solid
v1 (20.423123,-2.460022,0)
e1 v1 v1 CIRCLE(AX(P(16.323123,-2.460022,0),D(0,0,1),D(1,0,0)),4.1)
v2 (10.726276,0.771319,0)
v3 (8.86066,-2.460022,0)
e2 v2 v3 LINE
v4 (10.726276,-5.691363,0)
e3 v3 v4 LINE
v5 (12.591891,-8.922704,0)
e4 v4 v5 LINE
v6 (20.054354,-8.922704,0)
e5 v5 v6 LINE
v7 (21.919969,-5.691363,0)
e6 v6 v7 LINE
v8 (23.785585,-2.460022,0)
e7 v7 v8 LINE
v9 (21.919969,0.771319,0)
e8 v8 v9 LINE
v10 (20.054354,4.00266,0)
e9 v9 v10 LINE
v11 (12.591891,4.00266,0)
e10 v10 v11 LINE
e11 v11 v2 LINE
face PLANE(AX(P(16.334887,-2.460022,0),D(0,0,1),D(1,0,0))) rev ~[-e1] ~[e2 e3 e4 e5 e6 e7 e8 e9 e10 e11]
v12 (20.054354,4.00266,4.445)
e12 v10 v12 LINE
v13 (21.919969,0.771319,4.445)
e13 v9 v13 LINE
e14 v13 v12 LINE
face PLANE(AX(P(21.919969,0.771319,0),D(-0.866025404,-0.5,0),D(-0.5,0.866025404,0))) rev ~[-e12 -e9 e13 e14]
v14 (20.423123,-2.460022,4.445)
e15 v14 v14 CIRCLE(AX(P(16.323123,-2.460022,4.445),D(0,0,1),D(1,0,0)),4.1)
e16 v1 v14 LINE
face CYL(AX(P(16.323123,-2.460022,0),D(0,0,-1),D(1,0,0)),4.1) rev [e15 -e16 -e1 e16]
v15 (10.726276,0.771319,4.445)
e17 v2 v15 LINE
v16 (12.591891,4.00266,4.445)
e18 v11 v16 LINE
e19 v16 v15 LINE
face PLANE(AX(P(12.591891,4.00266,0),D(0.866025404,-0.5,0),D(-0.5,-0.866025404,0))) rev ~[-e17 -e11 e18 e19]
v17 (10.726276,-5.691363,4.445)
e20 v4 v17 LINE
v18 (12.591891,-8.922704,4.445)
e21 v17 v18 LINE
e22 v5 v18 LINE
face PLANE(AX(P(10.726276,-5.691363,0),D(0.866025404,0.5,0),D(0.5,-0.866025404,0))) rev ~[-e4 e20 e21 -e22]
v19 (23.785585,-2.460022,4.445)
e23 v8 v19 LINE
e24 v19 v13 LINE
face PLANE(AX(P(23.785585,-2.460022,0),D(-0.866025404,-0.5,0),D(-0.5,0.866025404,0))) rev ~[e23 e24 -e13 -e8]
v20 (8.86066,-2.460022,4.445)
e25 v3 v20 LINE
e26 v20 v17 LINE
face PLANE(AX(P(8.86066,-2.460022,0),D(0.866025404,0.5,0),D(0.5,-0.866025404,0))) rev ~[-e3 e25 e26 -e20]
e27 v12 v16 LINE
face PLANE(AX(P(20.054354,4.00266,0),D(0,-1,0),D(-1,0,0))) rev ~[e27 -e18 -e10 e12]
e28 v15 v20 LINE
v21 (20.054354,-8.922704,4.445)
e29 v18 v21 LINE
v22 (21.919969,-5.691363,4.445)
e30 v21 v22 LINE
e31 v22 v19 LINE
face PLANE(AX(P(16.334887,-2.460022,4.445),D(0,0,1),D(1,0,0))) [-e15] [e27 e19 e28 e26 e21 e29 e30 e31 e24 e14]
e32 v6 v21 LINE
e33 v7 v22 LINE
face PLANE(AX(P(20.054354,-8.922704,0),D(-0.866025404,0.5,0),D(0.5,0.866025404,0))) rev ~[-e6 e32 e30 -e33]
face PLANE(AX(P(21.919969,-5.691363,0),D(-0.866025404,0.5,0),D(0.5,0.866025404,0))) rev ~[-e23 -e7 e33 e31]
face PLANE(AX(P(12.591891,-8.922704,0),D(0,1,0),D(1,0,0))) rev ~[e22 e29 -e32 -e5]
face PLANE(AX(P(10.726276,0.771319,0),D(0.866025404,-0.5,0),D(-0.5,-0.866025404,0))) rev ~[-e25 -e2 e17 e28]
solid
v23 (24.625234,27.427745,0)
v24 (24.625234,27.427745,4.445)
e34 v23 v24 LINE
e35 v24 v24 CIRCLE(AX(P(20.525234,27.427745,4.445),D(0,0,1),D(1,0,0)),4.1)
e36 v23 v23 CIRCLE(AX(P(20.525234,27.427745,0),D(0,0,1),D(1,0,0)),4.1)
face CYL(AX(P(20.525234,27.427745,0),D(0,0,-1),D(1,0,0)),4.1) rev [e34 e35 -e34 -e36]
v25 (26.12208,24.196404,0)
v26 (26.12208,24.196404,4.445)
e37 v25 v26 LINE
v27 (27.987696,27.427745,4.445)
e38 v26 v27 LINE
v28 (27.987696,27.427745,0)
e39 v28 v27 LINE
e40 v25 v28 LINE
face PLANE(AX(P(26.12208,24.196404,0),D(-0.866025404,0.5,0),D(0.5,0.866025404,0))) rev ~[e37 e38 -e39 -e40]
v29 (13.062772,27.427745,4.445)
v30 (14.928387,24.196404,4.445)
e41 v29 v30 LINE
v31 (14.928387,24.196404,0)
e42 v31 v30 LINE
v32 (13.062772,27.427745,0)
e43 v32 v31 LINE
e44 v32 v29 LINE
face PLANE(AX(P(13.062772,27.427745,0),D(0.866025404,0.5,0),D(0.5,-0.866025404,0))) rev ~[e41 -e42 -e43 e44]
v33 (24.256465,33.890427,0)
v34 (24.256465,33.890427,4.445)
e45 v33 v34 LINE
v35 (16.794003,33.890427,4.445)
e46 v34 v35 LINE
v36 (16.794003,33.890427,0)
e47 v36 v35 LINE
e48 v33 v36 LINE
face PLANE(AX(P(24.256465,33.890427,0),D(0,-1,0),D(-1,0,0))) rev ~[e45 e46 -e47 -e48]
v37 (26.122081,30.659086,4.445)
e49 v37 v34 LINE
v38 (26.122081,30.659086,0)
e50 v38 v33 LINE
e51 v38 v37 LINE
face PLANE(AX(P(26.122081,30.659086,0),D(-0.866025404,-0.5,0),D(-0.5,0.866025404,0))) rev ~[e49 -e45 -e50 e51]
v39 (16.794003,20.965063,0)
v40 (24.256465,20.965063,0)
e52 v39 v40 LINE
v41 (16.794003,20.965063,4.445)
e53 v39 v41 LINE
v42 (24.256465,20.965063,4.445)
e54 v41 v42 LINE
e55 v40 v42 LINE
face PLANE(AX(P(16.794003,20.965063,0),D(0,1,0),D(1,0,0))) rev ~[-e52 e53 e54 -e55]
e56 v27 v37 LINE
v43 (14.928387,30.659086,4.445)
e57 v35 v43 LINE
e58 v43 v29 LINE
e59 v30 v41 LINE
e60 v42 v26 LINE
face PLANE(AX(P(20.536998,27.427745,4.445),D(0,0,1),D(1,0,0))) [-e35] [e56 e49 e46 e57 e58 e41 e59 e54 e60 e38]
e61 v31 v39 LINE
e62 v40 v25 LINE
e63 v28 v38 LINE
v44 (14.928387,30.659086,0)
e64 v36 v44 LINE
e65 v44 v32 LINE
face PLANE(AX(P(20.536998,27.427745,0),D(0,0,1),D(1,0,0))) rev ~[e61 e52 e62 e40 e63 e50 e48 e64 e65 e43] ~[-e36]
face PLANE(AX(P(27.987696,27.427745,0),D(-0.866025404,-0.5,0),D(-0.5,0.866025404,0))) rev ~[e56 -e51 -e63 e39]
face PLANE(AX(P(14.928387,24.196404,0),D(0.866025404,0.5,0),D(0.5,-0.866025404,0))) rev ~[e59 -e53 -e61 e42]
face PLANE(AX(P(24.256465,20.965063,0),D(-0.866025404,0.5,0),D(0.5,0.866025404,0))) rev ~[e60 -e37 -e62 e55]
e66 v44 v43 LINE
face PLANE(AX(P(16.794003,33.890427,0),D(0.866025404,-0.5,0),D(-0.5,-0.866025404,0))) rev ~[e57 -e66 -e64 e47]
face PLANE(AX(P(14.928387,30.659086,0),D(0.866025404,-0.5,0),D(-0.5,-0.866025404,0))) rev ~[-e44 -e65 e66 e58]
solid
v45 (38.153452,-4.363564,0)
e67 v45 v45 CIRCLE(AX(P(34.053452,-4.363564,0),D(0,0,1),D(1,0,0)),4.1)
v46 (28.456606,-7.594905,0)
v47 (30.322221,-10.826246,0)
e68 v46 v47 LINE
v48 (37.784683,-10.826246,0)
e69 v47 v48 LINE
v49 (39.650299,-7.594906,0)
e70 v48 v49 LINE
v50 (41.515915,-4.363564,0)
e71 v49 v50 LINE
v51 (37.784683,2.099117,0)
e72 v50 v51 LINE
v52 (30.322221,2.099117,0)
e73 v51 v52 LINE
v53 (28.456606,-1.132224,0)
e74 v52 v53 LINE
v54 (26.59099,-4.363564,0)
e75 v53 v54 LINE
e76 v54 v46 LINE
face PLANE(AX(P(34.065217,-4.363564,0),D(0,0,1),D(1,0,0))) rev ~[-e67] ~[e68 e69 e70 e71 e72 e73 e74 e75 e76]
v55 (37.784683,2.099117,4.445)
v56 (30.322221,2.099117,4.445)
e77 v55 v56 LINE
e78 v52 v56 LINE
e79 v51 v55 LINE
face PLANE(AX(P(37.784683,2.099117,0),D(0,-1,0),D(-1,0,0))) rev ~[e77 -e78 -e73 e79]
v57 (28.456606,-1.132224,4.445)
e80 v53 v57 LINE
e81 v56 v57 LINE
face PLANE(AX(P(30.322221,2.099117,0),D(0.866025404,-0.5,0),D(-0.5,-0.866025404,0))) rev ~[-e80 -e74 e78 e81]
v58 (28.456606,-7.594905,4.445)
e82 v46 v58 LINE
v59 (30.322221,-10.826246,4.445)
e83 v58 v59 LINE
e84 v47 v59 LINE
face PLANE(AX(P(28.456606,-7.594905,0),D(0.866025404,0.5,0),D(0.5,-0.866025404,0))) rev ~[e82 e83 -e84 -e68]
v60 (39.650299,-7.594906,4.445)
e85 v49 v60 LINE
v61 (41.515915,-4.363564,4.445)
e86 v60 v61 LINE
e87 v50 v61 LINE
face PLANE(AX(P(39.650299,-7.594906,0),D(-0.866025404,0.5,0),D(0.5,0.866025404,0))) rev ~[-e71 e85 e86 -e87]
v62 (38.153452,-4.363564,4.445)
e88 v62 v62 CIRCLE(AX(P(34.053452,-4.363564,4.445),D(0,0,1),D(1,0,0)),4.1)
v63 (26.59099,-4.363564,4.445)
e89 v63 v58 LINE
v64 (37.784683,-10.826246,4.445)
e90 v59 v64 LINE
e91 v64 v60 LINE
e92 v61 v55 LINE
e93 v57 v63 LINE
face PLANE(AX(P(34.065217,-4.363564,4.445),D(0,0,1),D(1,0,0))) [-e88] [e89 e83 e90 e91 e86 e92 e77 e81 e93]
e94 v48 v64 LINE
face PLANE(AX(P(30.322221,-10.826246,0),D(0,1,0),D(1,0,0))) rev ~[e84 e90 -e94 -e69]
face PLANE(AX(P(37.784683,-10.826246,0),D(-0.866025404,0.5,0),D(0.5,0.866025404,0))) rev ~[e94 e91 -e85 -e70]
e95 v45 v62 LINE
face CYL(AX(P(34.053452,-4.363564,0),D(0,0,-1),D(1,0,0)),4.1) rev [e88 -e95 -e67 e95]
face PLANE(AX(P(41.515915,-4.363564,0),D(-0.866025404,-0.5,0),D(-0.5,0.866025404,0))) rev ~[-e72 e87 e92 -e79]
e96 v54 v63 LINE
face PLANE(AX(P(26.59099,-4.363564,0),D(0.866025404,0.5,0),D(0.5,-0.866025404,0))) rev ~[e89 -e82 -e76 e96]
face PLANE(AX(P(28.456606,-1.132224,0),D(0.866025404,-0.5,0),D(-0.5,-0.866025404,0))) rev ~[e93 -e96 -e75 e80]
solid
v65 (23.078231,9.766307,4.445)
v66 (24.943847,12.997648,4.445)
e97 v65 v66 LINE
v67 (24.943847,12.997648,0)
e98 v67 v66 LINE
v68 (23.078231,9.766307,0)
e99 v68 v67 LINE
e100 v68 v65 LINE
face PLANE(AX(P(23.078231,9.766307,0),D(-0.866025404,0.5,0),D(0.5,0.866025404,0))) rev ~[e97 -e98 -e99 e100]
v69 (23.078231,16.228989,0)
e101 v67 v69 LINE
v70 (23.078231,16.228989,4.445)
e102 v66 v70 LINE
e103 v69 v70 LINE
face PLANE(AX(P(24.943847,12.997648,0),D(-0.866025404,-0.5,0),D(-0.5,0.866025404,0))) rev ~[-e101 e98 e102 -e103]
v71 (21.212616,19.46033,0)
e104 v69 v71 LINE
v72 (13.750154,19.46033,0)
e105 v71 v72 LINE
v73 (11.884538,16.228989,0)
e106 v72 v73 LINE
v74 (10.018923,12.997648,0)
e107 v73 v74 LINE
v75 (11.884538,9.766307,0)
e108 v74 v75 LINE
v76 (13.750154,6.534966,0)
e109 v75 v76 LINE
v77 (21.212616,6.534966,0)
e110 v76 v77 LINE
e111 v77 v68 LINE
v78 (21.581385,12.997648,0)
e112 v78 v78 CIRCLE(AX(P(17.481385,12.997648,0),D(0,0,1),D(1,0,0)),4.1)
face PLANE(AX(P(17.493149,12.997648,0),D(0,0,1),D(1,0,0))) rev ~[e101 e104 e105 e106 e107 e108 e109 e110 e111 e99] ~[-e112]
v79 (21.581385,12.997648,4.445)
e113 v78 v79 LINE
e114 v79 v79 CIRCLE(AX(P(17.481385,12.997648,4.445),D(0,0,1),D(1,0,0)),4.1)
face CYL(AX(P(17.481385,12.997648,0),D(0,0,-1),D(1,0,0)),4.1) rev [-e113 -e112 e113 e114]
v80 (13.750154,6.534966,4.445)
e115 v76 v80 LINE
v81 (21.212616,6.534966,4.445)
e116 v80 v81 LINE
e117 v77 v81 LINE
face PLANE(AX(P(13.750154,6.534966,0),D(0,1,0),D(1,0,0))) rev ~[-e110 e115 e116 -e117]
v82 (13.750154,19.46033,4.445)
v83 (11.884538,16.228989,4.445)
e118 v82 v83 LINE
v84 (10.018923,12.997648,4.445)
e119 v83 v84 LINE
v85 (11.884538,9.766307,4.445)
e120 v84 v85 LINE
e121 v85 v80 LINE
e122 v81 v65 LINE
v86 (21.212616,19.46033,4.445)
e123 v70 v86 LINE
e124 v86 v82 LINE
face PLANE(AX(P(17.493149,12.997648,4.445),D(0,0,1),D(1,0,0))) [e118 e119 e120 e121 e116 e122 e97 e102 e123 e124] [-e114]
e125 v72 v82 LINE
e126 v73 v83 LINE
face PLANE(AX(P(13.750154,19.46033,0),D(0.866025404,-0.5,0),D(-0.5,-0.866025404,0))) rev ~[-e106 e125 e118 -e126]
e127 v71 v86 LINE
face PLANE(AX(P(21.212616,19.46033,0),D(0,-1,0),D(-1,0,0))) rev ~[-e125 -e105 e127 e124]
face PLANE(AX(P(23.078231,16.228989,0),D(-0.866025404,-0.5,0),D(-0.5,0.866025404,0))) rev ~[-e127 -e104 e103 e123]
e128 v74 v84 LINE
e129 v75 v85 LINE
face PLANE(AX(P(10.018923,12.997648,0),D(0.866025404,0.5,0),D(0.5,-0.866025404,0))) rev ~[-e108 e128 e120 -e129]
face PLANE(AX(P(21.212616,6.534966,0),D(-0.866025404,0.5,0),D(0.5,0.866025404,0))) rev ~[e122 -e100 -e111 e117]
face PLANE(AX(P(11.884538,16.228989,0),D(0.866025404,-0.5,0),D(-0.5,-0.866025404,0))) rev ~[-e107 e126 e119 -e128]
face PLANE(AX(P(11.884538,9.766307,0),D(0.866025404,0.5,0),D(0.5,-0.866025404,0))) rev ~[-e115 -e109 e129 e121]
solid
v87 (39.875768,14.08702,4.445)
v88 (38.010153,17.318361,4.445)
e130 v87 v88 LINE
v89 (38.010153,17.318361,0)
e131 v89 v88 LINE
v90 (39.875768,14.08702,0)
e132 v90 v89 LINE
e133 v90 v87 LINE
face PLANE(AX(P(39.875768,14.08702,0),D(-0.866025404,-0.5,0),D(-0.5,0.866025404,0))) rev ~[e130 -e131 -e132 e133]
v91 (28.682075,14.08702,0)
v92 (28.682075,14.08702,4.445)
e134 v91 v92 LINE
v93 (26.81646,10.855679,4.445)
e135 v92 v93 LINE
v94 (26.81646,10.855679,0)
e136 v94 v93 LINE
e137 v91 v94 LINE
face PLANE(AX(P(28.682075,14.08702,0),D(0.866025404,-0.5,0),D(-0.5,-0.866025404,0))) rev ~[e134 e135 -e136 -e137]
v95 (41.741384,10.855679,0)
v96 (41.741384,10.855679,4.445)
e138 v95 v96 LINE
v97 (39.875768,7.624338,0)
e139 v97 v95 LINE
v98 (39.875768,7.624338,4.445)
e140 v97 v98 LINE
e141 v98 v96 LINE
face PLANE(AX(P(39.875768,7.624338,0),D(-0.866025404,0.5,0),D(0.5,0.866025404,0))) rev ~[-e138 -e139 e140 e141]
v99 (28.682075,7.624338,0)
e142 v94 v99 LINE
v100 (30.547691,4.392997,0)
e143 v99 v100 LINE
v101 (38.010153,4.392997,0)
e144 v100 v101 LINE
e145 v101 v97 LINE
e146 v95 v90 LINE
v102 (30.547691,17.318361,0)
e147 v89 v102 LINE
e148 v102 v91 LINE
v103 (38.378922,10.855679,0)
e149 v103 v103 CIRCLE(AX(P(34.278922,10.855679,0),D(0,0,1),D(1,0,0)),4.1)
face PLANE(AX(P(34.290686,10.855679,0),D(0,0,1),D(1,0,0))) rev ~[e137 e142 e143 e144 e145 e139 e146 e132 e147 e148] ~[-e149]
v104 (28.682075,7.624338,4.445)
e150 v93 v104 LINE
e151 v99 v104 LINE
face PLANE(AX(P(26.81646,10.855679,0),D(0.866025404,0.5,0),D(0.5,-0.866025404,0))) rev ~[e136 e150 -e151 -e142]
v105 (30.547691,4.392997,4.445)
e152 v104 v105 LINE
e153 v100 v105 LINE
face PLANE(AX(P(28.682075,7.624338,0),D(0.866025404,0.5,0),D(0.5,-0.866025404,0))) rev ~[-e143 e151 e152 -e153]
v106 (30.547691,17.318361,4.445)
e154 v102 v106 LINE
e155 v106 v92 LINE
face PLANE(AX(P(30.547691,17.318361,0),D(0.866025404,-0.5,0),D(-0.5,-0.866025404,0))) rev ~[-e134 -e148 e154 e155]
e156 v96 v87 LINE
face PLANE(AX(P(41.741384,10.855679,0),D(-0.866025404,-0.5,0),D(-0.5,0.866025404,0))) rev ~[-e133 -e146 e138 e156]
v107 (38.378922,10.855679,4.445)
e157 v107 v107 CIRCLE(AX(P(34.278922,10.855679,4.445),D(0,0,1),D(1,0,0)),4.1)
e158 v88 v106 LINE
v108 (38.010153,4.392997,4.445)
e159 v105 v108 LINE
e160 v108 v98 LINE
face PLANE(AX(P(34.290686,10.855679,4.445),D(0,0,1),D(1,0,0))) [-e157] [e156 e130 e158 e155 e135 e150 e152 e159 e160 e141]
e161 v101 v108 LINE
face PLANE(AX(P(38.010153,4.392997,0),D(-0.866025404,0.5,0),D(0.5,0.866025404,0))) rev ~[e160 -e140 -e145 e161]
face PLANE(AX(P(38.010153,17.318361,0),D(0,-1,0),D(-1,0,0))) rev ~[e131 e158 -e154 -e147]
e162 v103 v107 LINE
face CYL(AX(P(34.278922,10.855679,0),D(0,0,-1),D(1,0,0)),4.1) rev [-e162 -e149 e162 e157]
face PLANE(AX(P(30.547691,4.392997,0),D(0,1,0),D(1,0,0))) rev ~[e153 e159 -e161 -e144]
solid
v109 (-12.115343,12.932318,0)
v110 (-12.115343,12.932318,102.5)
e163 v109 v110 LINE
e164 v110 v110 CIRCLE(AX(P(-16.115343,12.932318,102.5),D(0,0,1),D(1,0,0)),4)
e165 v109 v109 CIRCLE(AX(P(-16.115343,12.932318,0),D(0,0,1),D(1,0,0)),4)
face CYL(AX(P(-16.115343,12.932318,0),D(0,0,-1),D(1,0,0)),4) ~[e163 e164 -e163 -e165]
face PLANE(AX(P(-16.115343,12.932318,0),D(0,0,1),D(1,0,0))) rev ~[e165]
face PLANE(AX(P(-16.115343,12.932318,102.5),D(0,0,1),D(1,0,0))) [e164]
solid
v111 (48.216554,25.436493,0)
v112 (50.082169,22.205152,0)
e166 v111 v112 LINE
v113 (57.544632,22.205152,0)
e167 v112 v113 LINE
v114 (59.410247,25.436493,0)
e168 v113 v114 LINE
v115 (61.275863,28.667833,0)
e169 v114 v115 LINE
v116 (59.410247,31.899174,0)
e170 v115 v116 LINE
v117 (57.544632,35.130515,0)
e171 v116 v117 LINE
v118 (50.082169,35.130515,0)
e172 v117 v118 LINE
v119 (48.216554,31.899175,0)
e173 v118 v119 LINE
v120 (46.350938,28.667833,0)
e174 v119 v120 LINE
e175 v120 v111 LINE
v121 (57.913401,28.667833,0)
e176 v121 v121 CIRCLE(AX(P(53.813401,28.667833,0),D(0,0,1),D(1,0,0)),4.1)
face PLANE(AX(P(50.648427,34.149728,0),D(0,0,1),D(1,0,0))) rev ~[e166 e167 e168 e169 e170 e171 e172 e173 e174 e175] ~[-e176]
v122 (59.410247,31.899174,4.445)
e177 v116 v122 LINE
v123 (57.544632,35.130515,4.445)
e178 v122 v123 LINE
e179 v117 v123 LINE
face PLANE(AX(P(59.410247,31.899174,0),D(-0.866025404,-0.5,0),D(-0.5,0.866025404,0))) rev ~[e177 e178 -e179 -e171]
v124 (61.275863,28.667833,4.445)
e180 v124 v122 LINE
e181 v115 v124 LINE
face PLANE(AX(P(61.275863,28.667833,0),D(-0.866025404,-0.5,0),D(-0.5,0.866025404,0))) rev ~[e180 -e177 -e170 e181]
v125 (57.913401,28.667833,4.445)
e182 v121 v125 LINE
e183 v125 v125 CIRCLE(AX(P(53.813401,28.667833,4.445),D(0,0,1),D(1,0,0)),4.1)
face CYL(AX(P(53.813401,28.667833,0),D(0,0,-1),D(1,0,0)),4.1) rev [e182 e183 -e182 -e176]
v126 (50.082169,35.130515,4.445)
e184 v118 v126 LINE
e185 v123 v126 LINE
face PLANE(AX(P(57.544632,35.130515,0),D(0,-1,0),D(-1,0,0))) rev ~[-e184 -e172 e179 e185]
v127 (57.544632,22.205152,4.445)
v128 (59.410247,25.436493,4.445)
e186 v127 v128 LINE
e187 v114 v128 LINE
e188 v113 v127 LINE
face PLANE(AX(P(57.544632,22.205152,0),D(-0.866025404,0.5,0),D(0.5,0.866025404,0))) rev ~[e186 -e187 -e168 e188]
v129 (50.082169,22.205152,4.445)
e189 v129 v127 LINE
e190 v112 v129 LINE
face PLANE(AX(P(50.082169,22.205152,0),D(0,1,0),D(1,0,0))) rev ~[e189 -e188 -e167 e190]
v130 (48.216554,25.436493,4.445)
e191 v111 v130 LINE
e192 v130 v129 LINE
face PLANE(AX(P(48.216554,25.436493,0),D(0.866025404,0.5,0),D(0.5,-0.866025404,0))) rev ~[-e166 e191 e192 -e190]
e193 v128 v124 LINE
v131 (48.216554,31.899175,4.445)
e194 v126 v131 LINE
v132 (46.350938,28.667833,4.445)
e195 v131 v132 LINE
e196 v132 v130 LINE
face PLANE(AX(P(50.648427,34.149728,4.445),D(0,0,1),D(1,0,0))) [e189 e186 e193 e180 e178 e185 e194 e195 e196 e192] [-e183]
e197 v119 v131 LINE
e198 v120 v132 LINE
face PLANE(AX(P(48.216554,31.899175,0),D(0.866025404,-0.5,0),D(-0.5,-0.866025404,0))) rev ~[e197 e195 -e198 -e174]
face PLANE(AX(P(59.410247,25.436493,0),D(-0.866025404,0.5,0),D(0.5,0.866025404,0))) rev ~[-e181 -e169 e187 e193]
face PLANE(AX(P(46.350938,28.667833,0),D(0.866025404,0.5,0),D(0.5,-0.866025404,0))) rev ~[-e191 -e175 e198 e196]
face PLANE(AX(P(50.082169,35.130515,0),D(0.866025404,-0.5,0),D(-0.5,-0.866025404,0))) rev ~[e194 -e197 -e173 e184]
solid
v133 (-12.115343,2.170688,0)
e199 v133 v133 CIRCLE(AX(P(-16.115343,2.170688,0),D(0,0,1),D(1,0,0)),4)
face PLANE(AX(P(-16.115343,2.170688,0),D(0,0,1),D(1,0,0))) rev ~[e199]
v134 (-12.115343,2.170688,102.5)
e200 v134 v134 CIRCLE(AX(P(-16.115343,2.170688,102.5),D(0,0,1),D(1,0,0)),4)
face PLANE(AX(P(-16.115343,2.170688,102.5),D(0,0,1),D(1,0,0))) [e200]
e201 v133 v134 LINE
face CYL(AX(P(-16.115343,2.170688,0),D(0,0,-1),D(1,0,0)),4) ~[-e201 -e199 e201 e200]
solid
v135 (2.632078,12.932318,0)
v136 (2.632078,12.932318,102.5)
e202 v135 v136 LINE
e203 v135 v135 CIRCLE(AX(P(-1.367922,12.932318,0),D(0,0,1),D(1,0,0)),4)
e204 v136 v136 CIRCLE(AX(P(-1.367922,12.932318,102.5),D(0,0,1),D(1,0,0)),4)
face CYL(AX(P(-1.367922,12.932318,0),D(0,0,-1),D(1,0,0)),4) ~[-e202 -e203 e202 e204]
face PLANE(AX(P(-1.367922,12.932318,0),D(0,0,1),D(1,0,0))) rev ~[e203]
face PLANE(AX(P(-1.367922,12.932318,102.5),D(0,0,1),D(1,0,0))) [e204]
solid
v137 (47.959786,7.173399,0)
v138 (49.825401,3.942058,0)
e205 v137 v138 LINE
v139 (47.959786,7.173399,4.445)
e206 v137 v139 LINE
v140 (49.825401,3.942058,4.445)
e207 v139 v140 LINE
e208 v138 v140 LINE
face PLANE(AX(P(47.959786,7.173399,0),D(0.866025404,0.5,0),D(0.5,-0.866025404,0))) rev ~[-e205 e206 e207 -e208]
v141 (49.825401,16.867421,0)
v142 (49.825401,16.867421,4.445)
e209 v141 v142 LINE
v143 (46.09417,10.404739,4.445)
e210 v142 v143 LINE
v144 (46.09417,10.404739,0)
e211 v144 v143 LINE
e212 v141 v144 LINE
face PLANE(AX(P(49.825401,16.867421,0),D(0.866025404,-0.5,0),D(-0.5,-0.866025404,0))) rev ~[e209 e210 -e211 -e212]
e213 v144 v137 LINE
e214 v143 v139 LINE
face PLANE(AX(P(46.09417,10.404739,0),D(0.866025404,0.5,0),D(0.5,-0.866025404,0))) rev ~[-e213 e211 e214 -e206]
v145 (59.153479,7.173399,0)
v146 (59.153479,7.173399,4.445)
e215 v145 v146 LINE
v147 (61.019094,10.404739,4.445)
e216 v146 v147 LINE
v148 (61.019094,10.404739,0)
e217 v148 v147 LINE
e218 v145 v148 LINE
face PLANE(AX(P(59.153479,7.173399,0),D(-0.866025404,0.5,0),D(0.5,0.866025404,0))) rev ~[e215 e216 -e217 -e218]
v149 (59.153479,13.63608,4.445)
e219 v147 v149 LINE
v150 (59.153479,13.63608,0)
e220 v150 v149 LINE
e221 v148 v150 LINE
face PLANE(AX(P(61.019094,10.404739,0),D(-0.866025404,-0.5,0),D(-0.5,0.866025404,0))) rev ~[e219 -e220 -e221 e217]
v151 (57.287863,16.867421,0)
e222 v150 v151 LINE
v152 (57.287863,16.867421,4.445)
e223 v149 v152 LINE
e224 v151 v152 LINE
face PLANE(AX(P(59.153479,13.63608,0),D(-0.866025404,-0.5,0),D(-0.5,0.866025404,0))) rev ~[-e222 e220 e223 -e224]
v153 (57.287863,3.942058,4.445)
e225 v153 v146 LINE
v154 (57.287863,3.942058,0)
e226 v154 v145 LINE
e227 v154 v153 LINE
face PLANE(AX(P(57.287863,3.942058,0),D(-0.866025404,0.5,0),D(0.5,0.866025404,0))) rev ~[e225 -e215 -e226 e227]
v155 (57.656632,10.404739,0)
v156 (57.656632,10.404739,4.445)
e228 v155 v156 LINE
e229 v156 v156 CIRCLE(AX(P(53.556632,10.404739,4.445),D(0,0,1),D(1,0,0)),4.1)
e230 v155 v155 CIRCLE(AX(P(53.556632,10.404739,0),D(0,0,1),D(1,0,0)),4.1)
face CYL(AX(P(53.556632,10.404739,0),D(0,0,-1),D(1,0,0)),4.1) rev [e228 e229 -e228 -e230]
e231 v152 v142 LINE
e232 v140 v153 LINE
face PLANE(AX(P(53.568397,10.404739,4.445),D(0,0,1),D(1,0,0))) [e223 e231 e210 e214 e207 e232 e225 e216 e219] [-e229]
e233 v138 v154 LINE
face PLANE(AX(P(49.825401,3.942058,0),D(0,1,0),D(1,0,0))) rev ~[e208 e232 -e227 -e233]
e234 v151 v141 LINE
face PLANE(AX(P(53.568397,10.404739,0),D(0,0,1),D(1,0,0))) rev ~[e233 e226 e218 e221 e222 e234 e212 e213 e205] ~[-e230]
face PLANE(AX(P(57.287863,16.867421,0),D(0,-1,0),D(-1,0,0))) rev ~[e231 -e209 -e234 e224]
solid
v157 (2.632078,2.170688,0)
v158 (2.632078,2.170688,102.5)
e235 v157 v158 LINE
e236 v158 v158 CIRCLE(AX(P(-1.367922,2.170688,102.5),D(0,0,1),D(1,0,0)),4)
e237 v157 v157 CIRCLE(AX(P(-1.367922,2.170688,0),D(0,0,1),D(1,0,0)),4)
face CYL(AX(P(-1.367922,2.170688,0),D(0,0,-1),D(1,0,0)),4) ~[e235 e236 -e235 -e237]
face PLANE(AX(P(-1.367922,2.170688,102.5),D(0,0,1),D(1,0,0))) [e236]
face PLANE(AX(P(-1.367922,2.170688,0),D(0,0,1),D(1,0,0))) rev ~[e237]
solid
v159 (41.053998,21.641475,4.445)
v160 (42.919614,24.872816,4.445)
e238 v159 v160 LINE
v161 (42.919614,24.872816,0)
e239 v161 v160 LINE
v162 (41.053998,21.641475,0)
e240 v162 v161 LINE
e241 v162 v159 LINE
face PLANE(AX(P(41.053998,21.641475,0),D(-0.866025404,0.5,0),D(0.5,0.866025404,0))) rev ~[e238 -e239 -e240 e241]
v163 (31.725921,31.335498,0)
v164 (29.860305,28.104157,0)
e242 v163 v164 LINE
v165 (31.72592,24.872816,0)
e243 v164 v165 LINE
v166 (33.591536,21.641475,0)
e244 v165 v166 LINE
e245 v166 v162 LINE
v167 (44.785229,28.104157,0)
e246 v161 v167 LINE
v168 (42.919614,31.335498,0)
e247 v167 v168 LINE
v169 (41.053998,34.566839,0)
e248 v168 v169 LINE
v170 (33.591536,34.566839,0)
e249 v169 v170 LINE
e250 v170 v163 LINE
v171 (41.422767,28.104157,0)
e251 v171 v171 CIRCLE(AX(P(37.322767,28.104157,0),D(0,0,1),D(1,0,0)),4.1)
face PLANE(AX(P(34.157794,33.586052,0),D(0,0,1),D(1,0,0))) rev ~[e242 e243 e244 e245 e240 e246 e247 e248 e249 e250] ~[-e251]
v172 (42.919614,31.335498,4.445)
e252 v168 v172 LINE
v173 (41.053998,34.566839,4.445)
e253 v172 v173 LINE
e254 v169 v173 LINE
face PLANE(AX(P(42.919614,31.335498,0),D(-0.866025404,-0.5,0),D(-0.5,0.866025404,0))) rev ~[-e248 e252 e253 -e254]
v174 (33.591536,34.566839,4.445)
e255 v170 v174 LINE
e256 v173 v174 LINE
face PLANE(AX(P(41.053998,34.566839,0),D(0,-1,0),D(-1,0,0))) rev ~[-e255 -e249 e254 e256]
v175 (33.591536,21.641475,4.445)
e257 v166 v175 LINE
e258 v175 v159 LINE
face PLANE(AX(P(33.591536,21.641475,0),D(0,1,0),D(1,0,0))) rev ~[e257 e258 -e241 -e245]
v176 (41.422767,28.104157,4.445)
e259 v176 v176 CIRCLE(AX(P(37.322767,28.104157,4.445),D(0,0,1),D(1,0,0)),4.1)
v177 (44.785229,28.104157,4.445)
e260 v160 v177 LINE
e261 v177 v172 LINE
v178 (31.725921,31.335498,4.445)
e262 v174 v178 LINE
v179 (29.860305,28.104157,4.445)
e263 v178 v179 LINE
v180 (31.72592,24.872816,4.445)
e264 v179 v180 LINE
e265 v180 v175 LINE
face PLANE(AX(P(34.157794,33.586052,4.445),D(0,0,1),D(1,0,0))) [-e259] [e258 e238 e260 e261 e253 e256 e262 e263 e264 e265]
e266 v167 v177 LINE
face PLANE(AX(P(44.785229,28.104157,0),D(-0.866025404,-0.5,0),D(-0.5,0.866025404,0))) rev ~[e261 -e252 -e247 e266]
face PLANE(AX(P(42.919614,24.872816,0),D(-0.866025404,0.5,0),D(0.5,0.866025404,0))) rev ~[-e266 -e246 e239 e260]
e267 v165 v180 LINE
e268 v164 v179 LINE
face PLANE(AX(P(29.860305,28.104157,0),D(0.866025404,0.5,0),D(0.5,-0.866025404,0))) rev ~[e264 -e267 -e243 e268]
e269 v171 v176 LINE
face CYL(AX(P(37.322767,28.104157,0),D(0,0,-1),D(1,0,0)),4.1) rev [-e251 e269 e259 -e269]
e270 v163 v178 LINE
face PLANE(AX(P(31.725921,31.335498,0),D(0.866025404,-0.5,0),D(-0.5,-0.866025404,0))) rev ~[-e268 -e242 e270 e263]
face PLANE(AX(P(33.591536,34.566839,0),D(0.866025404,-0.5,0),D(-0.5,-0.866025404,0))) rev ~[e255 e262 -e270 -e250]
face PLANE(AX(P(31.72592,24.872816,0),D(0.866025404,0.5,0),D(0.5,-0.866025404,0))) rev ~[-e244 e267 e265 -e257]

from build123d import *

# Parameters (mm, degrees)
F0_R     = 4
F1_DEPTH = 102.5
F2_R     = 4.1
F3_DEPTH = 4.445


with BuildPart() as f1:
    # F0 (on Top) → F1 (new body)
    with BuildSketch(Plane.XY):
        with Locations((-16.1153431982, 12.9323182628)):
            Circle(F0_R)
    extrude(amount=F1_DEPTH)


with BuildPart() as f1b:
    # F0 (on Top) → F1, piece 2 (new body)
    with BuildSketch(Plane.XY):
        with Locations((-1.3679224066, 12.9323182628)):
            Circle(F0_R)
    extrude(amount=F1_DEPTH)


with BuildPart() as f1c:
    # F0 (on Top) → F1, piece 3 (new body)
    with BuildSketch(Plane.XY):
        with Locations((-1.3679224066, 2.1706875414)):
            Circle(F0_R)
    extrude(amount=F1_DEPTH)


with BuildPart() as f1d:
    # F0 (on Top) → F1, piece 4 (new body)
    with BuildSketch(Plane.XY):
        with Locations((-16.1153431982, 2.1706875414)):
            Circle(F0_R)
    extrude(amount=F1_DEPTH)


with BuildPart() as f3:
    # F2 (on Top) → F3 (new body)
    with BuildSketch(Plane.XY):
        with BuildLine():
            ThreePointArc((26.1220804673, 24.1964040249), (26.7677051282, 25.7550798197), (26.987915677, 27.4277449835))
            ThreePointArc((26.987915677, 27.4277449835), (26.7677051517, 29.1004100597), (26.1220805581, 30.6590857849))
            ThreePointArc((26.1220805581, 30.6590857849), (23.7565748121, 33.0245916115), (20.5252338201, 33.8904268404))
            ThreePointArc((20.5252338201, 33.8904268404), (17.2938930039, 33.024591713), (14.9283872851, 30.6590861366))
            ThreePointArc((14.9283872851, 30.6590861366), (14.0625519632, 27.4277451866), (14.9283870821, 24.1964041822))
            ThreePointArc((14.9283870821, 24.1964041822), (17.2938928281, 21.8308983556), (20.5252338201, 20.9650631266))
            ThreePointArc((20.5252338201, 20.9650631266), (23.7565747334, 21.8308983102), (26.1220804673, 24.1964040249))
        make_face()
        with Locations((20.5252338201, 27.4277449835)):
            Circle(F2_R, mode=Mode.SUBTRACT)
        with BuildLine():
            Line((24.2564649298, 20.9650631266), (26.1220804673, 24.1964040249))
            ThreePointArc((26.1220804673, 24.1964040249), (23.7565747334, 21.8308983102), (20.5252338201, 20.9650631266))
            Line((20.5252338201, 20.9650631266), (24.2564649298, 20.9650631266))
        make_face()
        with BuildLine():
            ThreePointArc((26.1220805581, 30.6590857849), (26.7677051517, 29.1004100597), (26.987915677, 27.4277449835))
            ThreePointArc((26.987915677, 27.4277449835), (26.7677051282, 25.7550798197), (26.1220804673, 24.1964040249))
            Line((26.1220804673, 24.1964040249), (27.9876960396, 27.4277449835))
            Line((27.9876960396, 27.4277449835), (26.1220805581, 30.6590857849))
        make_face()
        with BuildLine():
            ThreePointArc((20.5252338201, 33.8904268404), (23.7565748121, 33.0245916115), (26.1220805581, 30.6590857849))
            Line((26.1220805581, 30.6590857849), (24.2564649298, 33.8904268404))
            Line((24.2564649298, 33.8904268404), (20.5252338201, 33.8904268404))
        make_face()
        with BuildLine():
            ThreePointArc((14.9283872851, 30.6590861366), (17.2938930039, 33.024591713), (20.5252338201, 33.8904268404))
            Line((20.5252338201, 33.8904268404), (16.7940027103, 33.8904268404))
            Line((16.7940027103, 33.8904268404), (14.9283872851, 30.6590861366))
        make_face()
        with BuildLine():
            ThreePointArc((14.9283870821, 24.1964041822), (14.0625519632, 27.4277451866), (14.9283872851, 30.6590861366))
            Line((14.9283872851, 30.6590861366), (13.0627716006, 27.4277449835))
            Line((13.0627716006, 27.4277449835), (14.9283870821, 24.1964041822))
        make_face()
        with BuildLine():
            Line((16.7940027103, 20.9650631266), (20.5252338201, 20.9650631266))
            ThreePointArc((20.5252338201, 20.9650631266), (17.2938928281, 21.8308983556), (14.9283870821, 24.1964041822))
            Line((14.9283870821, 24.1964041822), (16.7940027103, 20.9650631266))
        make_face()
    extrude(amount=F3_DEPTH)


with BuildPart() as f3b:
    # F2 (on Top) → F3, piece 2 (new body)
    with BuildSketch(Plane.XY):
        with BuildLine():
            ThreePointArc((23.0782314461, 9.7663067206), (23.723856107, 11.3249825154), (23.9440666558, 12.9976476792))
            ThreePointArc((23.9440666558, 12.9976476792), (23.723856107, 14.6703128431), (23.0782314461, 16.2289886379))
            ThreePointArc((23.0782314461, 16.2289886379), (20.7127257122, 18.5944943526), (17.4813847989, 19.4603295361))
            ThreePointArc((17.4813847989, 19.4603295361), (14.2500439642, 18.594494398), (11.8845382425, 16.2289887952))
            ThreePointArc((11.8845382425, 16.2289887952), (11.018702942, 12.99764777), (11.8845381517, 9.7663067206))
            ThreePointArc((11.8845381517, 9.7663067206), (14.2500438855, 7.4008010059), (17.4813847989, 6.5349658224))
            ThreePointArc((17.4813847989, 6.5349658224), (20.7127257122, 7.4008010059), (23.0782314461, 9.7663067206))
        make_face()
        with Locations((17.4813847989, 12.9976476792)):
            Circle(F2_R, mode=Mode.SUBTRACT)
        with BuildLine():
            ThreePointArc((17.4813847989, 19.4603295361), (20.7127257122, 18.5944943526), (23.0782314461, 16.2289886379))
            Line((23.0782314461, 16.2289886379), (21.2126159086, 19.4603295361))
            Line((21.2126159086, 19.4603295361), (17.4813847989, 19.4603295361))
        make_face()
        with BuildLine():
            ThreePointArc((23.0782314461, 16.2289886379), (23.723856107, 14.6703128431), (23.9440666558, 12.9976476792))
            ThreePointArc((23.9440666558, 12.9976476792), (23.723856107, 11.3249825154), (23.0782314461, 9.7663067206))
            Line((23.0782314461, 9.7663067206), (24.9438470184, 12.9976476792))
            Line((24.9438470184, 12.9976476792), (23.0782314461, 16.2289886379))
        make_face()
        with BuildLine():
            Line((21.2126159086, 6.5349658224), (23.0782314461, 9.7663067206))
            ThreePointArc((23.0782314461, 9.7663067206), (20.7127257122, 7.4008010059), (17.4813847989, 6.5349658224))
            Line((17.4813847989, 6.5349658224), (21.2126159086, 6.5349658224))
        make_face()
        with BuildLine():
            Line((13.7501536891, 6.5349658224), (17.4813847989, 6.5349658224))
            ThreePointArc((17.4813847989, 6.5349658224), (14.2500438855, 7.4008010059), (11.8845381517, 9.7663067206))
            Line((11.8845381517, 9.7663067206), (13.7501536891, 6.5349658224))
        make_face()
        with BuildLine():
            ThreePointArc((11.8845381517, 9.7663067206), (11.018702942, 12.99764777), (11.8845382425, 16.2289887952))
            Line((11.8845382425, 16.2289887952), (10.0189225794, 12.9976476792))
            Line((10.0189225794, 12.9976476792), (11.8845381517, 9.7663067206))
        make_face()
        with BuildLine():
            ThreePointArc((11.8845382425, 16.2289887952), (14.2500439642, 18.594494398), (17.4813847989, 19.4603295361))
            Line((17.4813847989, 19.4603295361), (13.7501536891, 19.4603295361))
            Line((13.7501536891, 19.4603295361), (11.8845382425, 16.2289887952))
        make_face()
    extrude(amount=F3_DEPTH)


with BuildPart() as f3c:
    # F2 (on Top) → F3, piece 3 (new body)
    with BuildSketch(Plane.XY):
        with BuildLine():
            ThreePointArc((31.7259205786, 31.335498332), (34.0914262928, 33.7010038657), (37.3227670789, 34.5668389758))
            Line((37.3227670789, 34.5668389758), (33.5915359691, 34.5668389758))
            Line((33.5915359691, 34.5668389758), (31.7259205786, 31.335498332))
        make_face()
        with BuildLine():
            ThreePointArc((42.9196138169, 24.8728163175), (43.5652384105, 26.4314920428), (43.7854489358, 28.1041571189))
            ThreePointArc((43.7854489358, 28.1041571189), (43.565238349, 29.7768224246), (42.9196135792, 31.335498332))
            ThreePointArc((42.9196135792, 31.335498332), (40.554107865, 33.7010038657), (37.3227670789, 34.5668389758))
            ThreePointArc((37.3227670789, 34.5668389758), (34.0914262928, 33.7010038657), (31.7259205786, 31.335498332))
            ThreePointArc((31.7259205786, 31.335498332), (30.860085222, 28.1041574127), (31.7259202848, 24.8728164147))
            ThreePointArc((31.7259202848, 24.8728164147), (34.0914260383, 22.507310519), (37.3227670789, 21.641475262))
            ThreePointArc((37.3227670789, 21.641475262), (40.5541080709, 22.5073104909), (42.9196138169, 24.8728163175))
        make_face()
        with Locations((37.3227670789, 28.1041571189)):
            Circle(F2_R, mode=Mode.SUBTRACT)
        with BuildLine():
            ThreePointArc((31.7259202848, 24.8728164147), (30.860085222, 28.1041574127), (31.7259205786, 31.335498332))
            Line((31.7259205786, 31.335498332), (29.8603048593, 28.1041571189))
            Line((29.8603048593, 28.1041571189), (31.7259202848, 24.8728164147))
        make_face()
        with BuildLine():
            Line((33.5915359691, 21.641475262), (37.3227670789, 21.641475262))
            ThreePointArc((37.3227670789, 21.641475262), (34.0914260383, 22.507310519), (31.7259202848, 24.8728164147))
            Line((31.7259202848, 24.8728164147), (33.5915359691, 21.641475262))
        make_face()
        with BuildLine():
            Line((41.0539981886, 21.641475262), (42.9196138169, 24.8728163175))
            ThreePointArc((42.9196138169, 24.8728163175), (40.5541080709, 22.5073104909), (37.3227670789, 21.641475262))
            Line((37.3227670789, 21.641475262), (41.0539981886, 21.641475262))
        make_face()
        with BuildLine():
            ThreePointArc((42.9196135792, 31.335498332), (43.565238349, 29.7768224246), (43.7854489358, 28.1041571189))
            ThreePointArc((43.7854489358, 28.1041571189), (43.5652384105, 26.4314920428), (42.9196138169, 24.8728163175))
            Line((42.9196138169, 24.8728163175), (44.7852292984, 28.1041571189))
            Line((44.7852292984, 28.1041571189), (42.9196135792, 31.335498332))
        make_face()
        with BuildLine():
            ThreePointArc((37.3227670789, 34.5668389758), (40.554107865, 33.7010038657), (42.9196135792, 31.335498332))
            Line((42.9196135792, 31.335498332), (41.0539981886, 34.5668389758))
            Line((41.0539981886, 34.5668389758), (37.3227670789, 34.5668389758))
        make_face()
    extrude(amount=F3_DEPTH)


with BuildPart() as f3d:
    # F2 (on Top) → F3, piece 4 (new body)
    with BuildSketch(Plane.XY):
        with BuildLine():
            ThreePointArc((48.2165540826, 31.8991746875), (50.5820597968, 34.2646802212), (53.8134005829, 35.1305153313))
            Line((53.8134005829, 35.1305153313), (50.0821694732, 35.1305153313))
            Line((50.0821694732, 35.1305153313), (48.2165540826, 31.8991746875))
        make_face()
        with BuildLine():
            ThreePointArc((59.4102472352, 25.4364925245), (60.0558718924, 26.9951683155), (60.2760824398, 28.6678334744))
            ThreePointArc((60.2760824398, 28.6678334744), (60.0558718911, 30.3404986383), (59.4102472301, 31.8991744331))
            ThreePointArc((59.4102472301, 31.8991744331), (57.0447414963, 34.2646801478), (53.8134005829, 35.1305153313))
            ThreePointArc((53.8134005829, 35.1305153313), (50.5820597968, 34.2646802212), (48.2165540826, 31.8991746875))
            ThreePointArc((48.2165540826, 31.8991746875), (47.350718726, 28.6678336213), (48.2165539357, 25.4364925158))
            ThreePointArc((48.2165539357, 25.4364925158), (50.5820596696, 23.0709868011), (53.8134005829, 22.2051516175))
            ThreePointArc((53.8134005829, 22.2051516175), (57.0447415007, 23.0709868036), (59.4102472352, 25.4364925245))
        make_face()
        with Locations((53.8134005829, 28.6678334744)):
            Circle(F2_R, mode=Mode.SUBTRACT)
        with BuildLine():
            ThreePointArc((48.2165539357, 25.4364925158), (47.350718726, 28.6678336213), (48.2165540826, 31.8991746875))
            Line((48.2165540826, 31.8991746875), (46.3509383634, 28.6678334744))
            Line((46.3509383634, 28.6678334744), (48.2165539357, 25.4364925158))
        make_face()
        with BuildLine():
            Line((50.0821694732, 22.2051516175), (53.8134005829, 22.2051516175))
            ThreePointArc((53.8134005829, 22.2051516175), (50.5820596696, 23.0709868011), (48.2165539357, 25.4364925158))
            Line((48.2165539357, 25.4364925158), (50.0821694732, 22.2051516175))
        make_face()
        with BuildLine():
            Line((57.5446316927, 22.2051516175), (59.4102472352, 25.4364925245))
            ThreePointArc((59.4102472352, 25.4364925245), (57.0447415007, 23.0709868036), (53.8134005829, 22.2051516175))
            Line((53.8134005829, 22.2051516175), (57.5446316927, 22.2051516175))
        make_face()
        with BuildLine():
            ThreePointArc((59.4102472301, 31.8991744331), (60.0558718911, 30.3404986383), (60.2760824398, 28.6678334744))
            ThreePointArc((60.2760824398, 28.6678334744), (60.0558718924, 26.9951683155), (59.4102472352, 25.4364925245))
            Line((59.4102472352, 25.4364925245), (61.2758628025, 28.6678334744))
            Line((61.2758628025, 28.6678334744), (59.4102472301, 31.8991744331))
        make_face()
        with BuildLine():
            ThreePointArc((53.8134005829, 35.1305153313), (57.0447414963, 34.2646801478), (59.4102472301, 31.8991744331))
            Line((59.4102472301, 31.8991744331), (57.5446316927, 35.1305153313))
            Line((57.5446316927, 35.1305153313), (53.8134005829, 35.1305153313))
        make_face()
    extrude(amount=F3_DEPTH)


with BuildPart() as f3e:
    # F2 (on Top) → F3, piece 5 (new body)
    with BuildSketch(Plane.XY):
        with BuildLine():
            ThreePointArc((59.1534789324, 7.1733985622), (59.7991035677, 8.7320743304), (60.0193141074, 10.4047394607))
            ThreePointArc((60.0193141074, 10.4047394607), (59.7991035587, 12.0774046246), (59.1534788978, 13.6360804194))
            ThreePointArc((59.1534788978, 13.6360804194), (56.7879731639, 16.0015861341), (53.5566322505, 16.8674213176))
            ThreePointArc((53.5566322505, 16.8674213176), (50.3252914644, 16.0015862076), (47.9597857503, 13.6360806739))
            ThreePointArc((47.9597857503, 13.6360806739), (47.0939503937, 10.4047396077), (47.9597856033, 7.1733985021))
            ThreePointArc((47.9597856033, 7.1733985021), (50.3252913372, 4.8078927874), (53.5566322505, 3.9420576039))
            ThreePointArc((53.5566322505, 3.9420576039), (56.7879731939, 4.8078928047), (59.1534789324, 7.1733985622))
        make_face()
        with Locations((53.5566322505, 10.4047394607)):
            Circle(F2_R, mode=Mode.SUBTRACT)
        with BuildLine():
            ThreePointArc((47.9597857503, 13.6360806739), (50.3252914644, 16.0015862076), (53.5566322505, 16.8674213176))
            Line((53.5566322505, 16.8674213176), (49.8254011408, 16.8674213176))
            Line((49.8254011408, 16.8674213176), (47.9597857503, 13.6360806739))
        make_face()
        with BuildLine():
            ThreePointArc((47.9597856033, 7.1733985021), (47.0939503937, 10.4047396077), (47.9597857503, 13.6360806739))
            Line((47.9597857503, 13.6360806739), (46.094170031, 10.4047394607))
            Line((46.094170031, 10.4047394607), (47.9597856033, 7.1733985021))
        make_face()
        with BuildLine():
            Line((49.8254011408, 3.9420576039), (53.5566322505, 3.9420576039))
            ThreePointArc((53.5566322505, 3.9420576039), (50.3252913372, 4.8078927874), (47.9597856033, 7.1733985021))
            Line((47.9597856033, 7.1733985021), (49.8254011408, 3.9420576039))
        make_face()
        with BuildLine():
            Line((57.2878633603, 3.9420576039), (59.1534789324, 7.1733985622))
            ThreePointArc((59.1534789324, 7.1733985622), (56.7879731939, 4.8078928047), (53.5566322505, 3.9420576039))
            Line((53.5566322505, 3.9420576039), (57.2878633603, 3.9420576039))
        make_face()
        with BuildLine():
            ThreePointArc((59.1534788978, 13.6360804194), (59.7991035587, 12.0774046246), (60.0193141074, 10.4047394607))
            ThreePointArc((60.0193141074, 10.4047394607), (59.7991035677, 8.7320743304), (59.1534789324, 7.1733985622))
            Line((59.1534789324, 7.1733985622), (61.0190944701, 10.4047394607))
            Line((61.0190944701, 10.4047394607), (59.1534788978, 13.6360804194))
        make_face()
        with BuildLine():
            ThreePointArc((53.5566322505, 16.8674213176), (56.7879731639, 16.0015861341), (59.1534788978, 13.6360804194))
            Line((59.1534788978, 13.6360804194), (57.2878633603, 16.8674213176))
            Line((57.2878633603, 16.8674213176), (53.5566322505, 16.8674213176))
        make_face()
    extrude(amount=F3_DEPTH)


with BuildPart() as f3f:
    # F2 (on Top) → F3, piece 6 (new body)
    with BuildSketch(Plane.XY):
        with BuildLine():
            ThreePointArc((39.8757683179, 7.6243381791), (40.5213930621, 9.1830140599), (40.7416036399, 10.8556793321))
            ThreePointArc((40.7416036399, 10.8556793321), (40.5213930911, 12.528344496), (39.8757684302, 14.0870202908))
            ThreePointArc((39.8757684302, 14.0870202908), (37.5102626963, 16.4525260055), (34.278921783, 17.318361189))
            ThreePointArc((34.278921783, 17.318361189), (31.047580791, 16.4525259601), (28.682075045, 14.0870201335))
            ThreePointArc((28.682075045, 14.0870201335), (27.8162399261, 10.8556792974), (28.6820750796, 7.6243384707))
            ThreePointArc((28.6820750796, 7.6243384707), (31.047580821, 5.2588326868), (34.278921783, 4.3929974752))
            ThreePointArc((34.278921783, 4.3929974752), (37.5102625991, 5.2588326026), (39.8757683179, 7.6243381791))
        make_face()
        with Locations((34.278921783, 10.8556793321)):
            Circle(F2_R, mode=Mode.SUBTRACT)
        with BuildLine():
            ThreePointArc((28.682075045, 14.0870201335), (31.047580791, 16.4525259601), (34.278921783, 17.318361189))
            Line((34.278921783, 17.318361189), (30.5476906732, 17.318361189))
            Line((30.5476906732, 17.318361189), (28.682075045, 14.0870201335))
        make_face()
        with BuildLine():
            ThreePointArc((28.6820750796, 7.6243384707), (27.8162399261, 10.8556792974), (28.682075045, 14.0870201335))
            Line((28.682075045, 14.0870201335), (26.8164595634, 10.8556793321))
            Line((26.8164595634, 10.8556793321), (28.6820750796, 7.6243384707))
        make_face()
        with BuildLine():
            Line((30.5476906732, 4.3929974752), (34.278921783, 4.3929974752))
            ThreePointArc((34.278921783, 4.3929974752), (31.047580821, 5.2588326868), (28.6820750796, 7.6243384707))
            Line((28.6820750796, 7.6243384707), (30.5476906732, 4.3929974752))
        make_face()
        with BuildLine():
            Line((38.0101528927, 4.3929974752), (39.8757683179, 7.6243381791))
            ThreePointArc((39.8757683179, 7.6243381791), (37.5102625991, 5.2588326026), (34.278921783, 4.3929974752))
            Line((34.278921783, 4.3929974752), (38.0101528927, 4.3929974752))
        make_face()
        with BuildLine():
            ThreePointArc((39.8757684302, 14.0870202908), (40.5213930911, 12.528344496), (40.7416036399, 10.8556793321))
            ThreePointArc((40.7416036399, 10.8556793321), (40.5213930621, 9.1830140599), (39.8757683179, 7.6243381791))
            Line((39.8757683179, 7.6243381791), (41.7413840025, 10.8556793321))
            Line((41.7413840025, 10.8556793321), (39.8757684302, 14.0870202908))
        make_face()
        with BuildLine():
            ThreePointArc((34.278921783, 17.318361189), (37.5102626963, 16.4525260055), (39.8757684302, 14.0870202908))
            Line((39.8757684302, 14.0870202908), (38.0101528927, 17.318361189))
            Line((38.0101528927, 17.318361189), (34.278921783, 17.318361189))
        make_face()
    extrude(amount=F3_DEPTH)


with BuildPart() as f3g:
    # F2 (on Top) → F3, piece 7 (new body)
    with BuildSketch(Plane.XY):
        with BuildLine():
            ThreePointArc((21.9199691702, -5.6913628814), (22.5655938312, -4.1326870866), (22.7858043799, -2.4600219228))
            ThreePointArc((22.7858043799, -2.4600219228), (22.5655938312, -0.7873567589), (21.9199691702, 0.7713190359))
            ThreePointArc((21.9199691702, 0.7713190359), (19.5544634364, 3.1368247506), (16.323122523, 4.0026599341))
            ThreePointArc((16.323122523, 4.0026599341), (13.0917815365, 3.1368247083), (10.7262757913, 0.7713188895))
            ThreePointArc((10.7262757913, 0.7713188895), (9.8604406661, -2.4600219165), (10.726275785, -5.6913627242))
            ThreePointArc((10.726275785, -5.6913627242), (13.091781531, -8.0568685508), (16.323122523, -8.9227037797))
            ThreePointArc((16.323122523, -8.9227037797), (19.5544634364, -8.0568685962), (21.9199691702, -5.6913628814))
        make_face()
        with Locations((16.323122523, -2.4600219228)):
            Circle(F2_R, mode=Mode.SUBTRACT)
        with BuildLine():
            ThreePointArc((16.323122523, 4.0026599341), (19.5544634364, 3.1368247506), (21.9199691702, 0.7713190359))
            Line((21.9199691702, 0.7713190359), (20.0543536328, 4.0026599341))
            Line((20.0543536328, 4.0026599341), (16.323122523, 4.0026599341))
        make_face()
        with BuildLine():
            ThreePointArc((10.7262757913, 0.7713188895), (13.0917815365, 3.1368247083), (16.323122523, 4.0026599341))
            Line((16.323122523, 4.0026599341), (12.5918914132, 4.0026599341))
            Line((12.5918914132, 4.0026599341), (10.7262757913, 0.7713188895))
        make_face()
        with BuildLine():
            ThreePointArc((10.726275785, -5.6913627242), (9.8604406661, -2.4600219165), (10.7262757913, 0.7713188895))
            Line((10.7262757913, 0.7713188895), (8.8606603035, -2.4600219228))
            Line((8.8606603035, -2.4600219228), (10.726275785, -5.6913627242))
        make_face()
        with BuildLine():
            Line((12.5918914132, -8.9227037797), (16.323122523, -8.9227037797))
            ThreePointArc((16.323122523, -8.9227037797), (13.091781531, -8.0568685508), (10.726275785, -5.6913627242))
            Line((10.726275785, -5.6913627242), (12.5918914132, -8.9227037797))
        make_face()
        with BuildLine():
            Line((20.0543536328, -8.9227037797), (21.9199691702, -5.6913628814))
            ThreePointArc((21.9199691702, -5.6913628814), (19.5544634364, -8.0568685962), (16.323122523, -8.9227037797))
            Line((16.323122523, -8.9227037797), (20.0543536328, -8.9227037797))
        make_face()
        with BuildLine():
            ThreePointArc((21.9199691702, 0.7713190359), (22.5655938312, -0.7873567589), (22.7858043799, -2.4600219228))
            ThreePointArc((22.7858043799, -2.4600219228), (22.5655938312, -4.1326870866), (21.9199691702, -5.6913628814))
            Line((21.9199691702, -5.6913628814), (23.7855847425, -2.4600219228))
            Line((23.7855847425, -2.4600219228), (21.9199691702, 0.7713190359))
        make_face()
    extrude(amount=F3_DEPTH)


with BuildPart() as f3h:
    # F2 (on Top) → F3, piece 8 (new body)
    with BuildSketch(Plane.XY):
        with BuildLine():
            ThreePointArc((39.6502988347, -7.5949055529), (40.2959235886, -6.0362296619), (40.5161341698, -4.3635643769))
            ThreePointArc((40.5161341698, -4.3635643769), (40.295923592, -2.6908991046), (39.6502988479, -1.1322232238))
            ThreePointArc((39.6502988479, -1.1322232238), (37.2847931291, 1.2332823526), (34.0534523129, 2.09911748))
            ThreePointArc((34.0534523129, 2.09911748), (30.8221112909, 1.2332822337), (28.4566055403, -1.1322236356))
            ThreePointArc((28.4566055403, -1.1322236356), (27.5907704561, -4.3635645024), (28.4566056657, -7.5949053355))
            ThreePointArc((28.4566056657, -7.5949053355), (30.8221113996, -9.9604110502), (34.0534523129, -10.8262462338))
            ThreePointArc((34.0534523129, -10.8262462338), (37.2847931176, -9.960411113), (39.6502988347, -7.5949055529))
        make_face()
        with Locations((34.0534523129, -4.3635643769)):
            Circle(F2_R, mode=Mode.SUBTRACT)
        with BuildLine():
            ThreePointArc((34.0534523129, 2.09911748), (37.2847931291, 1.2332823526), (39.6502988479, -1.1322232238))
            Line((39.6502988479, -1.1322232238), (37.7846834227, 2.09911748))
            Line((37.7846834227, 2.09911748), (34.0534523129, 2.09911748))
        make_face()
        with BuildLine():
            ThreePointArc((39.6502988479, -1.1322232238), (40.295923592, -2.6908991046), (40.5161341698, -4.3635643769))
            ThreePointArc((40.5161341698, -4.3635643769), (40.2959235886, -6.0362296619), (39.6502988347, -7.5949055529))
            Line((39.6502988347, -7.5949055529), (41.5159145325, -4.3635643769))
            Line((41.5159145325, -4.3635643769), (39.6502988479, -1.1322232238))
        make_face()
        with BuildLine():
            Line((37.7846834227, -10.8262462338), (39.6502988347, -7.5949055529))
            ThreePointArc((39.6502988347, -7.5949055529), (37.2847931176, -9.960411113), (34.0534523129, -10.8262462338))
            Line((34.0534523129, -10.8262462338), (37.7846834227, -10.8262462338))
        make_face()
        with BuildLine():
            Line((30.3222212032, -10.8262462338), (34.0534523129, -10.8262462338))
            ThreePointArc((34.0534523129, -10.8262462338), (30.8221113996, -9.9604110502), (28.4566056657, -7.5949053355))
            Line((28.4566056657, -7.5949053355), (30.3222212032, -10.8262462338))
        make_face()
        with BuildLine():
            ThreePointArc((28.4566056657, -7.5949053355), (27.5907704561, -4.3635645024), (28.4566055403, -1.1322236356))
            Line((28.4566055403, -1.1322236356), (26.5909900934, -4.3635643769))
            Line((26.5909900934, -4.3635643769), (28.4566056657, -7.5949053355))
        make_face()
        with BuildLine():
            ThreePointArc((28.4566055403, -1.1322236356), (30.8221112909, 1.2332822337), (34.0534523129, 2.09911748))
            Line((34.0534523129, 2.09911748), (30.3222212032, 2.09911748))
            Line((30.3222212032, 2.09911748), (28.4566055403, -1.1322236356))
        make_face()
    extrude(amount=F3_DEPTH)


solid = Compound([f1.part, f1b.part, f1c.part, f1d.part, f3.part, f3b.part, f3c.part, f3d.part, f3e.part, f3f.part, f3g.part, f3h.part])
